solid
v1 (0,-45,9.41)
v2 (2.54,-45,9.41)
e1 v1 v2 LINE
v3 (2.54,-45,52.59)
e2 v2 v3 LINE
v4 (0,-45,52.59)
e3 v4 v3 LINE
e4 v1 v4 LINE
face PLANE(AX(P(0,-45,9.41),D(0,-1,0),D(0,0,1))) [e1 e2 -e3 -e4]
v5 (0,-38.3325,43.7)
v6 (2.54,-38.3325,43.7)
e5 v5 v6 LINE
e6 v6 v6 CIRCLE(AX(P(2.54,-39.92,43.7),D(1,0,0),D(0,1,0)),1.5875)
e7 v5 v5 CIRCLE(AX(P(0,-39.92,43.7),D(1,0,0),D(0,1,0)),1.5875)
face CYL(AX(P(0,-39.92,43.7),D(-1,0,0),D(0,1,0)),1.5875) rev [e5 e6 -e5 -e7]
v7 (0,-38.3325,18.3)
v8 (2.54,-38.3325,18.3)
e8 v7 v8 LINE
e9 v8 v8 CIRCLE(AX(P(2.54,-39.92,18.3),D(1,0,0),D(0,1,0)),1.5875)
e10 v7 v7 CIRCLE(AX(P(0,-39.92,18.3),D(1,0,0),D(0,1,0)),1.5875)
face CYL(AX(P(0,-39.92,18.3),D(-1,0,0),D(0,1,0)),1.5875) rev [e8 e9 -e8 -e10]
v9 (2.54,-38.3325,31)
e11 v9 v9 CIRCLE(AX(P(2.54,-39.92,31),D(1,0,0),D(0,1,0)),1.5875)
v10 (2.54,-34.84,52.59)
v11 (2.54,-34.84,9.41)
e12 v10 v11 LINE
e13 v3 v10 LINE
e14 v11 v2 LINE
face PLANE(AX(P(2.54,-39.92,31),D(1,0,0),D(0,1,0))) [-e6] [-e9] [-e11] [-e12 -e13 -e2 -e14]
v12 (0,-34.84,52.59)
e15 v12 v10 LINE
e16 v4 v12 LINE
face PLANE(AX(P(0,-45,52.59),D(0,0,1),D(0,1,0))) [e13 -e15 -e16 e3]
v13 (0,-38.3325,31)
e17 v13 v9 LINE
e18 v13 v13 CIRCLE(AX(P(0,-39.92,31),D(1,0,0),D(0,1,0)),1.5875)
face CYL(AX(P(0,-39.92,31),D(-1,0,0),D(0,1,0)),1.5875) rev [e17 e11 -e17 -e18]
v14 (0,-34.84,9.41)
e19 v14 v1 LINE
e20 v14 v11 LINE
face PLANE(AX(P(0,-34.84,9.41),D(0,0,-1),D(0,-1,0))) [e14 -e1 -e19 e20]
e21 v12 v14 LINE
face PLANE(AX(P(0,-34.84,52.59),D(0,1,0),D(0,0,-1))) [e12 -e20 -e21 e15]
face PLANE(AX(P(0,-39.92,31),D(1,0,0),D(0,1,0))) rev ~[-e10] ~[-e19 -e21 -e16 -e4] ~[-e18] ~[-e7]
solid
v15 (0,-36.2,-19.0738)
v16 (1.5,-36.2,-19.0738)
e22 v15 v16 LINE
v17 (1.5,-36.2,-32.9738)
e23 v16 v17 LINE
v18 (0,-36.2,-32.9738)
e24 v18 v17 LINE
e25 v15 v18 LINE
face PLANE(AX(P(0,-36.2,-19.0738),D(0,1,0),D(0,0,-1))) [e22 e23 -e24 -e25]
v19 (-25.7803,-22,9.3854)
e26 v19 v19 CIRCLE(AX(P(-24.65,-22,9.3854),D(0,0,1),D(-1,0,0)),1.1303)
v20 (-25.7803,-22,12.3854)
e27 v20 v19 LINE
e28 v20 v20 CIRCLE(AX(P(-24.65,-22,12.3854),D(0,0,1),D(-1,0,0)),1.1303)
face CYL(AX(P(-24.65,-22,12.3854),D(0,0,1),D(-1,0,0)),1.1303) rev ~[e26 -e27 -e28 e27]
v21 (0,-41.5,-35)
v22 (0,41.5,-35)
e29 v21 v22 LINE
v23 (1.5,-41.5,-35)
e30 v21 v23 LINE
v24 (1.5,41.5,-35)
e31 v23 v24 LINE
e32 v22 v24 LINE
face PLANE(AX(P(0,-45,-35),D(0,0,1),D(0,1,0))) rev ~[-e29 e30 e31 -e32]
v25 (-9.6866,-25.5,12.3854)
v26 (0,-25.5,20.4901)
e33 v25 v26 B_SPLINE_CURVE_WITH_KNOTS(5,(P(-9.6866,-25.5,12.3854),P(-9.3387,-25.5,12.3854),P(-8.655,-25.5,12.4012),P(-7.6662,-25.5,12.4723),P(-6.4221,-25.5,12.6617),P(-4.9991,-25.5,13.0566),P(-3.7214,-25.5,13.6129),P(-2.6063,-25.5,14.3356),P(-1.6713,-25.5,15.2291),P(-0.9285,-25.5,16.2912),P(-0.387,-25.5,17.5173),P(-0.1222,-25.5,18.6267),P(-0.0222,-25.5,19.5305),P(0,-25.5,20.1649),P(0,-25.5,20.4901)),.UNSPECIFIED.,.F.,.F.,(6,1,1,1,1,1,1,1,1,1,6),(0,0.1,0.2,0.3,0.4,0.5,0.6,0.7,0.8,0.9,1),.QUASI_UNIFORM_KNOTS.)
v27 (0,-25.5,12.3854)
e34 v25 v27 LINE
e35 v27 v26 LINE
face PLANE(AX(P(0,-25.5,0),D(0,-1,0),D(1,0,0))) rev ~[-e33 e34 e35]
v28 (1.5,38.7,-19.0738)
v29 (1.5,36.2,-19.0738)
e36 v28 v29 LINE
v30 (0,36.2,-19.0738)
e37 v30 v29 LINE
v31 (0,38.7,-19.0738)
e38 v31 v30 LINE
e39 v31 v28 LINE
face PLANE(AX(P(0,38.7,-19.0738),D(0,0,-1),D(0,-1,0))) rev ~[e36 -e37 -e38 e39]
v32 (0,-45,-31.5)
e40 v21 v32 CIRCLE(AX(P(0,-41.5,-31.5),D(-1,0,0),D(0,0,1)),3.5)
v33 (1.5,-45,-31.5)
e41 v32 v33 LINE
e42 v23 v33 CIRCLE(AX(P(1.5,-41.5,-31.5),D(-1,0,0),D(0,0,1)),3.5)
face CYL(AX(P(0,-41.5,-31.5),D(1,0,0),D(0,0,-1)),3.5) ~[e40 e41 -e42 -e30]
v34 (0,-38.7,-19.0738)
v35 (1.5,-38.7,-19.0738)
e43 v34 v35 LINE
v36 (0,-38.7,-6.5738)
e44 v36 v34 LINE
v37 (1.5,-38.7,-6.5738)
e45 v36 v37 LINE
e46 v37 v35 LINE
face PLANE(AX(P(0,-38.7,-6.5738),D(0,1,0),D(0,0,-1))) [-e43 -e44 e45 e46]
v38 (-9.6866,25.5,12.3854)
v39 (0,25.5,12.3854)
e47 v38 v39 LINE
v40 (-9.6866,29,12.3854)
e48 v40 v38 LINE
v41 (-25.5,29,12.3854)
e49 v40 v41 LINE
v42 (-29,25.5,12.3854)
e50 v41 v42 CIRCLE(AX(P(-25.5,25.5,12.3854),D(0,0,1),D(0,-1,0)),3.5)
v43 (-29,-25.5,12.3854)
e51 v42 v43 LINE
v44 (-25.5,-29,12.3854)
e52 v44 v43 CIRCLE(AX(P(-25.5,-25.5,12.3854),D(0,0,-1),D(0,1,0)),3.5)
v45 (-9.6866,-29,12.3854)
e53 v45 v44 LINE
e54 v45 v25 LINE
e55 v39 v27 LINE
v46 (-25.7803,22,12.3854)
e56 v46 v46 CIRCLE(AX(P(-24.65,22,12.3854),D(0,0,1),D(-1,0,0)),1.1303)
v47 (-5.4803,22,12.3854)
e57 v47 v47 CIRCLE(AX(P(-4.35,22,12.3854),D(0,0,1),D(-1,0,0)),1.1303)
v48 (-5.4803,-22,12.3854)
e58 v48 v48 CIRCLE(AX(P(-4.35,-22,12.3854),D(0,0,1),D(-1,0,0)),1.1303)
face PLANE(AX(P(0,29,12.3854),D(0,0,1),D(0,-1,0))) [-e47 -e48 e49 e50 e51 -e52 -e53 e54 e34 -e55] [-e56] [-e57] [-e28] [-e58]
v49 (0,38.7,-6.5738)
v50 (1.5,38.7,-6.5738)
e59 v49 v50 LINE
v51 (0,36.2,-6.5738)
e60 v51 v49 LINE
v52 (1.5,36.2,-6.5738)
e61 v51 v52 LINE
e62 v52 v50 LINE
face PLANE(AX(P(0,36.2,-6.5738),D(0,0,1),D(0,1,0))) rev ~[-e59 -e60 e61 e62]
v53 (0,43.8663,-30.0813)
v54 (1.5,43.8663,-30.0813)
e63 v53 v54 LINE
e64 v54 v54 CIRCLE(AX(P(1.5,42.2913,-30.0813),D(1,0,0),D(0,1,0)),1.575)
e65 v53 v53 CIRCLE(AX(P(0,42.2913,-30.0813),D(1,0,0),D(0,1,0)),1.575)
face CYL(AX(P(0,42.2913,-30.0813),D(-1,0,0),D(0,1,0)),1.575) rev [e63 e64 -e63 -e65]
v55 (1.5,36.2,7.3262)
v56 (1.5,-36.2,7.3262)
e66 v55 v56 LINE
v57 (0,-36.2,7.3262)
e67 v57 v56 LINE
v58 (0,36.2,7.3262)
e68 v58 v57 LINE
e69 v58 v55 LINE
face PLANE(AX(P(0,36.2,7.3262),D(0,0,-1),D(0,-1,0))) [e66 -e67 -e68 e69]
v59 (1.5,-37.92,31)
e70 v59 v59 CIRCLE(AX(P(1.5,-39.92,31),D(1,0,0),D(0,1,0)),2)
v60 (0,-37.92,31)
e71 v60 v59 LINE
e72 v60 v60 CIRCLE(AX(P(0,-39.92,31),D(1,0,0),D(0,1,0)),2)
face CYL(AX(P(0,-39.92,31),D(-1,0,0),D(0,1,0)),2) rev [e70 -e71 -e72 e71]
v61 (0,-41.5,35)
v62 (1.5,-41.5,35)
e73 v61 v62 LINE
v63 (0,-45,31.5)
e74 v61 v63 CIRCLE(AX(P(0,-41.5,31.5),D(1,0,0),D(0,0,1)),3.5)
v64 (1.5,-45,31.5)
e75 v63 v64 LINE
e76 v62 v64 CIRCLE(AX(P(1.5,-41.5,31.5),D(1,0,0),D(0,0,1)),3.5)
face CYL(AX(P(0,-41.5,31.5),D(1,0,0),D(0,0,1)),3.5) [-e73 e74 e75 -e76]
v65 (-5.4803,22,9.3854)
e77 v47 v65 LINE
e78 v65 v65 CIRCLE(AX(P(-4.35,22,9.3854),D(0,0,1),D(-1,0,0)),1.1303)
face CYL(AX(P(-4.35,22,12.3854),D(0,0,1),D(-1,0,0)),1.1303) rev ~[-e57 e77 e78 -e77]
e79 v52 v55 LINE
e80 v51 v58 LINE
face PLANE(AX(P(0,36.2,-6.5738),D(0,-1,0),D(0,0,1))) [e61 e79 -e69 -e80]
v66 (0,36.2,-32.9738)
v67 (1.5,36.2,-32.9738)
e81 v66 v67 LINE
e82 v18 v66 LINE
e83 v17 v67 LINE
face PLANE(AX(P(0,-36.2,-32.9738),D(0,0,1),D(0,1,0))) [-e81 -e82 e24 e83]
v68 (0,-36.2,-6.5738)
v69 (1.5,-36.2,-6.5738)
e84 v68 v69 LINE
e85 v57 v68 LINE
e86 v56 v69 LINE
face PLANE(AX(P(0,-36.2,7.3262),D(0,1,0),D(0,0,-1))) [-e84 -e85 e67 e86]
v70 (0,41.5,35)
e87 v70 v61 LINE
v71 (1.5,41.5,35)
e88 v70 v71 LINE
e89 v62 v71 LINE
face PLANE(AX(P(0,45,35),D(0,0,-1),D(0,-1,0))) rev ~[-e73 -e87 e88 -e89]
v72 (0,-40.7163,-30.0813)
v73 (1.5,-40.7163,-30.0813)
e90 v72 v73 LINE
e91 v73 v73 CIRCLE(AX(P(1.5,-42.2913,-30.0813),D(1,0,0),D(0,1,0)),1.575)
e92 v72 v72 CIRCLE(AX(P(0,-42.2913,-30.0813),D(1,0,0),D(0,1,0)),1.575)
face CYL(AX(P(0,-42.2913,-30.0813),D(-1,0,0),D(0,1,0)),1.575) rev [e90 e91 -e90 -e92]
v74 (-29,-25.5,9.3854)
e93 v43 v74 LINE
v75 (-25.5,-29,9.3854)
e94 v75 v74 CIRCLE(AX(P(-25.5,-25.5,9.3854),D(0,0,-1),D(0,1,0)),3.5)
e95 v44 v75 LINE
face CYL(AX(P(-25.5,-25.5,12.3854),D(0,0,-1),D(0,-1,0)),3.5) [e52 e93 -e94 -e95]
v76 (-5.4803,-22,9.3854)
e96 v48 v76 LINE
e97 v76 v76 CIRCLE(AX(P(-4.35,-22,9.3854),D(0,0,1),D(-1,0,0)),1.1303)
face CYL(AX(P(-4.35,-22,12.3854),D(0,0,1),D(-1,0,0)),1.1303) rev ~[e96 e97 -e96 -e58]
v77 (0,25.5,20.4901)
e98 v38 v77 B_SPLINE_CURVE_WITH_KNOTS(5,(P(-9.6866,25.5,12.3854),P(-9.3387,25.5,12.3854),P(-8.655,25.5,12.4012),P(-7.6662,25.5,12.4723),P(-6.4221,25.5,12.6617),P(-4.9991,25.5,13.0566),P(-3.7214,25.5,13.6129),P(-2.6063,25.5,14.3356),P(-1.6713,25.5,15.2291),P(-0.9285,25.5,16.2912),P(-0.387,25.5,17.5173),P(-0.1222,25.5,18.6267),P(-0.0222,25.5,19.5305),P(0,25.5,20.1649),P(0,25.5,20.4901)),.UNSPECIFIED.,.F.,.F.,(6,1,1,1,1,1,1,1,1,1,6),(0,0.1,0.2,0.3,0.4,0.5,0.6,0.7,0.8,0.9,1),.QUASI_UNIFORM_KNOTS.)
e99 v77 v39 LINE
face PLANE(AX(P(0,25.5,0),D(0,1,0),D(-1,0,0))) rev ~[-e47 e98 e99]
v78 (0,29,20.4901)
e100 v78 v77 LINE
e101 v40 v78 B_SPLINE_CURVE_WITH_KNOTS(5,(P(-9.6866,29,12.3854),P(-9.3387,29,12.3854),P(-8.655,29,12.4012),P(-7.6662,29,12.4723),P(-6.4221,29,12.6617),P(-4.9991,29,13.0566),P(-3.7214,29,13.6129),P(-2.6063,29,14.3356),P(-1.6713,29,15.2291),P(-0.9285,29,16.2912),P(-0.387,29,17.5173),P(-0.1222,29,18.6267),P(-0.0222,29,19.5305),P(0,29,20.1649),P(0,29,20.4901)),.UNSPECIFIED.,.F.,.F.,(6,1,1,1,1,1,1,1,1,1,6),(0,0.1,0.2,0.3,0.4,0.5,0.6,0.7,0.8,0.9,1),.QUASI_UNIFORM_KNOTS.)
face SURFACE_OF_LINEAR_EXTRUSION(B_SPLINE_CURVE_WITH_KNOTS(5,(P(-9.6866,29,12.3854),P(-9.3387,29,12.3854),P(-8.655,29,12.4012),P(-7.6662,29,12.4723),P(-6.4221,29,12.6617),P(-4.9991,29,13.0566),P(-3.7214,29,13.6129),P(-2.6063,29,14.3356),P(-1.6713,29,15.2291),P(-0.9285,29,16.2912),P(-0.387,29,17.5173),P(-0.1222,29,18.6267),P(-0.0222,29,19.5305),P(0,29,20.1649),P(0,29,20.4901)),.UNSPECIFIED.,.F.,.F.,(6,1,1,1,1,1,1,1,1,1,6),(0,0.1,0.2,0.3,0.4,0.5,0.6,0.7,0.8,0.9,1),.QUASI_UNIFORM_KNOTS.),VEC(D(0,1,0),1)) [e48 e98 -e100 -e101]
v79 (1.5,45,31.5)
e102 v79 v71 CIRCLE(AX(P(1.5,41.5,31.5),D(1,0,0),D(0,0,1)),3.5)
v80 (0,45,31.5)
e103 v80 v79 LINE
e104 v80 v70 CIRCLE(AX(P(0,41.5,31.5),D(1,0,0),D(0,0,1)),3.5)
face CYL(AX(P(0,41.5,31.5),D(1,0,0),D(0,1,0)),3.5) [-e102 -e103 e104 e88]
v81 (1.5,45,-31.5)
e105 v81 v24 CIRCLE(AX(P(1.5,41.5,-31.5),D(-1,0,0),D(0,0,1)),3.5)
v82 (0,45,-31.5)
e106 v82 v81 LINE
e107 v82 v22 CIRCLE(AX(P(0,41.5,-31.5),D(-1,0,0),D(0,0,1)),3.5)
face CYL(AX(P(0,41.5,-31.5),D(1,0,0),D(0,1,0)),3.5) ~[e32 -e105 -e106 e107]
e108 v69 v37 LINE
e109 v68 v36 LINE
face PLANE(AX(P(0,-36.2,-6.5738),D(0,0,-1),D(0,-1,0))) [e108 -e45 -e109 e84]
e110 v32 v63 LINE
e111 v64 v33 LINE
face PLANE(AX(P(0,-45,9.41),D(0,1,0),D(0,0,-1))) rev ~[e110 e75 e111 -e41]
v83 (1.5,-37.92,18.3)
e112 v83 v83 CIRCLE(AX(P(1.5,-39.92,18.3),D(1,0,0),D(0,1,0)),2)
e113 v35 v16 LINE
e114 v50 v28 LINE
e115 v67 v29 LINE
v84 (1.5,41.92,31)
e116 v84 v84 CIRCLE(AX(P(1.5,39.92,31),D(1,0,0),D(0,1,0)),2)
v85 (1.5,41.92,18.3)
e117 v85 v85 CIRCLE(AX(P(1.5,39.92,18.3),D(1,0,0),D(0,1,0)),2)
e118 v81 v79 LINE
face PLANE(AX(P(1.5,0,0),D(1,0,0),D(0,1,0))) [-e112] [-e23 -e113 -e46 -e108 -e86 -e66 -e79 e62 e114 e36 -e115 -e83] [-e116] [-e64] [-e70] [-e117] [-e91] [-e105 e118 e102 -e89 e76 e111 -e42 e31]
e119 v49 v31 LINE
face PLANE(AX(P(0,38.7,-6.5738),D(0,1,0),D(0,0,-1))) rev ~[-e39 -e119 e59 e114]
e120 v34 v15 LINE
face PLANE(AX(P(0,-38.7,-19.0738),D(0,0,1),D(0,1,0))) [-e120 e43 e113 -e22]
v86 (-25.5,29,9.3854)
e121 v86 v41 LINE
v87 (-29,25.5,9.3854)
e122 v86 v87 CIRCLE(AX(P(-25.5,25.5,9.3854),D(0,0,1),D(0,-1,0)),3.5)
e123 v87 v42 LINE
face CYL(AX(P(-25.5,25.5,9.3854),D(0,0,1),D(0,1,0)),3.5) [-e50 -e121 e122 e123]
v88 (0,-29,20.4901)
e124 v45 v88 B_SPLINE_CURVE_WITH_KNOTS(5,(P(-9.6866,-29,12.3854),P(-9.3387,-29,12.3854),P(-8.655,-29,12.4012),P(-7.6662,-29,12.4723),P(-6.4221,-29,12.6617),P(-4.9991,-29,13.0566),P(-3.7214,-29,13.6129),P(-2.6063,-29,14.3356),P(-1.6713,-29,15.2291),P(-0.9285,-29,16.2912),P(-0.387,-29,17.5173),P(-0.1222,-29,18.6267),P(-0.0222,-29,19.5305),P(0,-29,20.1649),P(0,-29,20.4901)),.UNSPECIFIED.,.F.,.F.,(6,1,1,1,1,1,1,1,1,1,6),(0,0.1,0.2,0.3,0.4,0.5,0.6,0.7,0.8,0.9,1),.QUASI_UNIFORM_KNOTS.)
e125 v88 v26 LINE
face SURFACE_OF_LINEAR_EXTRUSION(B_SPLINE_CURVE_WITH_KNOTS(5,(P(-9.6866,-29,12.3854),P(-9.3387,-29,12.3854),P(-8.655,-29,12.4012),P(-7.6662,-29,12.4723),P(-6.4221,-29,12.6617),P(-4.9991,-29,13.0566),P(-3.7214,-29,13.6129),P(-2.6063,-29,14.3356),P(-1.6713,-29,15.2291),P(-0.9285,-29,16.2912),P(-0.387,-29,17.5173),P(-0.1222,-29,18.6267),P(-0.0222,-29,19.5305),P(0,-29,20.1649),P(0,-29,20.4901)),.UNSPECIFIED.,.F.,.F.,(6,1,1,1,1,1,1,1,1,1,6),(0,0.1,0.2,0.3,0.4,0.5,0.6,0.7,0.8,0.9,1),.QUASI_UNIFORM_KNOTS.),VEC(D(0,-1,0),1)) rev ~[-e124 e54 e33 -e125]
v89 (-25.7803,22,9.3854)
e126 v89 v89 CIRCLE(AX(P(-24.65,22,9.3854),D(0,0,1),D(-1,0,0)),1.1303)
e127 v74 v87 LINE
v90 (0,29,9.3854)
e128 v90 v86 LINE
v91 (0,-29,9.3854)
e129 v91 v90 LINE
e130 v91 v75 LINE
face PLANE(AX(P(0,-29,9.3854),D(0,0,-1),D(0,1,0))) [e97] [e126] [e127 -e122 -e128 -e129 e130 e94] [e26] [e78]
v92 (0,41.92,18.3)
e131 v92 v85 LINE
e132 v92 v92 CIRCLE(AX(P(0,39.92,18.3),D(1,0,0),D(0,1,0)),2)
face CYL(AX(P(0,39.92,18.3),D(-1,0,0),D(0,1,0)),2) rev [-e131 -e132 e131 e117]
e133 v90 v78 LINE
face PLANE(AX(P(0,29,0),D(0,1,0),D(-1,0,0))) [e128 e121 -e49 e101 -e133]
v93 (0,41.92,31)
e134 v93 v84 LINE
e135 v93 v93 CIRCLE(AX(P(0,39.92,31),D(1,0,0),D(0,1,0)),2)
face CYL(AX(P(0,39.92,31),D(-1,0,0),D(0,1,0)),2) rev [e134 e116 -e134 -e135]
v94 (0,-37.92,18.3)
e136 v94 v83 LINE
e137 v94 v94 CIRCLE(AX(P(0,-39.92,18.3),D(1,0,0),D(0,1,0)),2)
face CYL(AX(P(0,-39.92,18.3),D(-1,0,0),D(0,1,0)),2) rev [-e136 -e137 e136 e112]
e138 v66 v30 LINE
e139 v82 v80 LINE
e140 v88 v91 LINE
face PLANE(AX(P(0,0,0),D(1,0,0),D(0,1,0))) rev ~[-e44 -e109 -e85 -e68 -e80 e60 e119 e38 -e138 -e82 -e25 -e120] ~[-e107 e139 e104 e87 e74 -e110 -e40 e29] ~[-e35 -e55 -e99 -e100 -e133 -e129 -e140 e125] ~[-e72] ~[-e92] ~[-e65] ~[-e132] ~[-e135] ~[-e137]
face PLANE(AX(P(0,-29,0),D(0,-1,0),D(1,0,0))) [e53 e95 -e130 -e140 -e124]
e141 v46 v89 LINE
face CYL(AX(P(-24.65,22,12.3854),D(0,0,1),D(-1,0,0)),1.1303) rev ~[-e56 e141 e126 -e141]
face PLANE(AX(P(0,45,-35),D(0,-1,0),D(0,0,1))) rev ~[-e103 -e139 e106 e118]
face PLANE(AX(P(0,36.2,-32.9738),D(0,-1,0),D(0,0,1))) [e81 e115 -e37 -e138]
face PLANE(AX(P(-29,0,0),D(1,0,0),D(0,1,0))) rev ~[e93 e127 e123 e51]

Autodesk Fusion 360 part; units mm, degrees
sketch "Sketch1" plane through (0, 0, 0) normal (1, 0, 0) x (0, 1, 0) in component "DIN_rain_mount1 v3"
  line L0 (-5.08, 21.59) -> (5.08, 21.59)
  line L1 (5.08, 21.59) -> (5.08, -21.59)
  line L2 (5.08, -21.59) -> (-5.08, -21.59)
  line L3 (-5.08, -21.59) -> (-5.08, 21.59)
  line L4 (-5.08, 21.59) -> (5.08, -21.59) construction
  line L5 (5.08, 21.59) -> (-5.08, -21.59) construction
  circle A0 centre (0, -12.7) radius 1.5875
  circle A1 centre (0, 0) radius 1.5875
  circle A2 centre (0, 12.7) radius 1.5875
  dimension "d5" = 10.16
  dimension "d6" = 43.18
  dimension "d7" = 3.175
  dimension "d10" = 6.35
  dimension "d11" = 12.7
extrude "Extrude1" add sketch "Sketch1" along normal blind 2.54 makes body 1 in component "DIN_rain_mount1 v3"
sketch "Sketch1 (2)" plane through (0, 0, 0) normal (1, 0, 0) x (0, 1, 0)
  line L0 (45, 35) -> (-45, 35)
  line L1 (-45, 35) -> (-45, -35)
  line L2 (-45, -35) -> (45, -35)
  line L3 (45, -35) -> (45, 35)
  line L4 (45, 35) -> (-45, -35) construction
  line L5 (-45, 35) -> (45, -35) construction
  line L6 (0, 0) -> (0, -35) construction
  line L7 (39.5, 8.6762) -> (-39.5, 8.6762) construction
  line L8 (-39.5, 8.6762) -> (-39.5, -34.3238) construction
  line L9 (-39.5, -34.3238) -> (39.5, -34.3238) construction
  line L10 (39.5, -34.3238) -> (39.5, 8.6762) construction
  line L11 (39.5, 8.6762) -> (-39.5, -34.3238) construction
  line L12 (-39.5, 8.6762) -> (39.5, -34.3238) construction
  line L13 (36.2, 7.3262) -> (-36.2, 7.3262)
  line L14 (-36.2, 7.3262) -> (-36.2, -32.9738)
  line L15 (-36.2, -32.9738) -> (36.2, -32.9738)
  line L16 (36.2, -32.9738) -> (36.2, 7.3262)
  line L17 (36.2, 7.3262) -> (-36.2, -32.9738) construction
  line L18 (-36.2, 7.3262) -> (36.2, -32.9738) construction
  circle A0 centre (42.2913, -30.0813) radius 1.575
  line L19 (0, 0) -> (10.5805, 0) construction
  circle A1 centre (-42.2913, -30.0813) radius 1.575
  circle A2 centre (42.2913, 30.0813) radius 1.575 construction
  circle A3 centre (-42.2913, 30.0813) radius 1.575 construction
  line L20 (0, 0) -> (0, 0.8708) construction
  line L21 (0, 0.8708) -> (0, 35) construction
  line L22 (25, 32.3854) -> (-25, 32.3854) construction
  line L23 (-25, 32.3854) -> (-25, 12.3854) construction
  line L24 (-25, 12.3854) -> (25, 12.3854) construction
  line L25 (25, 12.3854) -> (25, 32.3854) construction
  line L26 (25, 32.3854) -> (-25, 12.3854) construction
  line L27 (-25, 32.3854) -> (25, 12.3854) construction
  line L28 (29, 12.3854) -> (-29, 12.3854)
  line L29 (-29, 12.3854) -> (-29, 9.3854)
  line L30 (-29, 9.3854) -> (29, 9.3854)
  line L31 (29, 9.3854) -> (29, 12.3854)
  line L32 (29, 12.3854) -> (-29, 9.3854) construction
  line L33 (-29, 12.3854) -> (29, 9.3854) construction
  line L34 (0, -12.8238) -> (39.5, -12.8238) construction
  line L35 (36.2, -6.5738) -> (38.7, -6.5738)
  line L36 (38.7, -6.5738) -> (38.7, -19.0738)
  line L37 (38.7, -19.0738) -> (36.2, -19.0738)
  line L38 (36.2, -19.0738) -> (36.2, -6.5738)
  line L39 (-38.7, -19.0738) -> (-36.2, -19.0738)
  line L40 (-38.7, -6.5738) -> (-38.7, -19.0738)
  line L41 (-36.2, -6.5738) -> (-38.7, -6.5738)
  circle A4 centre (-39.92, 31) radius 2
  circle A5 centre (-39.92, 18.3) radius 2
  circle A6 centre (39.92, 31) radius 2
  circle A7 centre (39.92, 18.3) radius 2
  circle A8 centre (-39.92, 31) radius 1.5875
  circle A9 centre (-39.92, 18.3) radius 1.5875
  circle A10 centre (-39.92, 43.7) radius 1.5875
  line L42 (-45, 9.41) -> (-34.84, 9.41)
  line L43 (-34.84, 9.41) -> (-34.84, 52.59)
  line L44 (-34.84, 52.59) -> (-45, 52.59)
  line L45 (-45, 52.59) -> (-45, 9.41)
  point P0 (0, -12.8238)
  point P1 (0, -12.8238)
  point P2 (0, 22.3854)
  point P3 (0, 10.8854)
  point P4 (38.7, -12.8238)
  dimension "d8" = 90
  dimension "d9" = 70
  dimension "d12" = 79
  dimension "d13" = 43
  dimension "d14" = 72.4
  dimension "d15" = 40.3
  dimension "d17" = 3.15
  dimension "d21" = 50
  dimension "d22" = 20
  dimension "d25" = 58
  dimension "d26" = 3
  dimension "d58" = 2.5
  dimension "d59" = 12.5
  dimension "d62" = 4
  dimension "d63" = 4
extrude "Extrude1'" add sketch "Sketch1 (2)" along normal blind 1.5 separate body contours L0 L1 L2 L3 L42 L43 | L0 L1 L42 L43 L45 | L28 L29 L30 L31 makes body 2
extrude "Extrude2" add sketch "Sketch1 (2)" against normal blind 29 contours L28 L29 L30 L31 bodies 2
sketch "Sketch2" plane through (0, 0, 12.3854) normal (0, 0, 1) x (-1, 0, 0)
  line L0 (0, 29) -> (0, -29)
  line L1 (0, -29) -> (29, -29)
  line L2 (29, -29) -> (29, 29)
  line L3 (29, 29) -> (0, 29)
  line L4 (0, 29) -> (29, -29) construction
  line L5 (27.5, 25) -> (1.5, 25) construction
  line L6 (1.5, 25) -> (1.5, -25) construction
  line L7 (1.5, -25) -> (27.5, -25) construction
  line L8 (27.5, -25) -> (27.5, 25) construction
  line L9 (27.5, 25) -> (1.5, -25) construction
  line L10 (1.5, 25) -> (27.5, -25) construction
  circle A0 centre (4.35, -22) radius 1.575 construction
  circle A1 centre (24.65, -22) radius 1.575 construction
  circle A2 centre (4.35, 22) radius 1.575 construction
  circle A3 centre (24.65, 22) radius 1.575 construction
  line L11 (4.35, -22) -> (24.65, 22) construction
  circle A4 centre (4.35, -22) radius 1.1303
  circle A5 centre (24.65, -22) radius 1.1303
  circle A6 centre (4.35, 22) radius 1.1303
  circle A7 centre (24.65, 22) radius 1.1303
  point P0 (14.5, 0)
  point P1 (14.5, 0)
  point P2 (14.5, 0)
  dimension "d32" = 26
  dimension "d33" = 50
  dimension "d37" = 3.15
  dimension "d40" = 20.3
  dimension "d41" = 44
  dimension "d51" = 2.2606
  dimension "d54" = 20.3
  dimension "d55" = 44
fillet "Fillet1" radius 3.5 2 edges at (-29, 29, 10.8854) (-29, -29, 10.8854) on bodies 2
fillet "Fillet2" radius 3.5 4 edges at (0.75, 45, 35) (0.75, 45, -35) (0.75, -45, 35) (0.75, -45, -35) on bodies 2
sketch "Sketch3" plane through (0, -29, 0) normal (0, -1, 0) x (1, 0, 0)
  line L0 (-25.5, 12.3854) -> (-25.5, 9.3854)
  line L1 (-25.5, 9.3854) -> (0, 9.3854)
  line L2 (0, 9.3854) -> (0, 12.3854)
  line L3 (0, 12.3854) -> (-25.5, 12.3854)
  line L4 (0, 35) -> (0, -35) construction
  line L5 (-27.5, 12.3854) -> (-1.5, 12.3854) construction
  spline S0 degree 5 poles (-9.6866, 12.3854) (-9.3387, 12.3854) (-8.655, 12.4012) (-7.6662, 12.4723) (-6.4221, 12.6617) (-4.9991, 13.0566) (-3.7214, 13.6129) (-2.6063, 14.3356) (-1.6713, 15.2291) (-0.9285, 16.2912) (-0.387, 17.5173) (-0.1222, 18.6267) (-0.0222, 19.5305) (0, 20.1649) (0, 20.4901) knots 0 0 0 0 0 0 0.1 0.2 0.3 0.4 0.5 0.6 0.7 0.8 0.9 1 1 1 1 1 1
  line L6 (0, 18.6225) -> (0, 22.3578)
  line L7 (-11.558, 12.3854) -> (-7.8153, 12.3854)
  line L8 (-9.6866, 12.3854) -> (0, 12.3854)
  line L9 (0, 20.4901) -> (0, 12.3854)
  point P0 (-2.4919, 14.508)
extrude "Extrude3" add sketch "Sketch3" against normal blind 3.5 contours L3 S0 L6 L7 L8 L9 bodies 2
sketch "Sketch4" plane through (0, 29, 0) normal (0, 1, 0) x (-1, 0, 0)
  line L0 (25.5, 9.3854) -> (25.5, 12.3854)
  line L1 (25.5, 12.3854) -> (0, 12.3854)
  line L2 (0, 12.3854) -> (0, 9.3854)
  line L3 (0, 9.3854) -> (25.5, 9.3854)
  line L4 (0, 12.3854) -> (9.6866, 12.3854)
  spline S0 degree 5 poles (9.6866, 12.3854) (9.3387, 12.3854) (8.655, 12.4012) (7.6662, 12.4723) (6.4221, 12.6617) (4.9991, 13.0566) (3.7214, 13.6129) (2.6063, 14.3356) (1.6713, 15.2291) (0.9285, 16.2912) (0.387, 17.5173) (0.1222, 18.6267) (0.0222, 19.5305) (0, 20.1649) (0, 20.4901) knots 0 0 0 0 0 0 0.1 0.2 0.3 0.4 0.5 0.6 0.7 0.8 0.9 1 1 1 1 1 1
  line L5 (0, 20.4901) -> (0, 12.3854)
extrude "Extrude4" add sketch "Sketch4" against normal blind 3.5 contours L1 L4 S0 L5 bodies 2
extrude "Extrude5" cut sketch "Sketch2" against normal blind 3 contours A4 | A5 | A6 | A7 bodies 2
component "DIN_rain_mount1 v3" placed x (1, 0, 0) y (0, 1, 0) z (0, 0, 1) at (0, -39.92, 31)
equation "cutout_length = 71.4 mm" comment "71 mm from the manual"
equation "cutout_height = 39.3 mm" comment "39mm from the manual"
equation "plastic_thick = 1.5 mm"
equation "tab_width = 12 mm"
equation "tab_thick = 2.5 mm"
equation "panel_width = 90 mm"
equation "panel_height = 70 mm"
equation "d8 = panel_width"
equation "d9 = panel_height"
equation "power_supply_width = 79 mm"
equation "power_supply_height = 43 mm"
equation "d12 = power_supply_width"
equation "d13 = power_supply_height"
equation "d14 = cutout_length + clearance * 2"
equation "d15 = cutout_height + clearance * 2"
equation "mount_through_hole_diam = 3.15 mm"
equation "d17 = mount_through_hole_diam"
equation "relay_height = 20 mm"
equation "relay_length = 50 mm"
equation "relay_width = 26 mm"
equation "d21 = relay_length"
equation "d22 = relay_height"
equation "relay_ledge_thick = 3 mm"
equation "relay_ledge_length = relay_length + 8 mm"
equation "d25 = relay_ledge_length"
equation "d26 = relay_ledge_thick"
equation "relay_ledge_width = relay_width + 3 mm"
equation "d28 = plastic_thick"
equation "d30 = -relay_ledge_width"
equation "d32 = relay_width"
equation "d33 = relay_length"
equation "relay_dist_bw_holes_length = 44 mm"
equation "relay_dist_bw_holes_width = 20.3 mm"
equation "relay_hole_diam = 3.15 mm"
equation "d37 = relay_hole_diam"
equation "d40 = relay_dist_bw_holes_width"
equation "d41 = relay_dist_bw_holes_length"
equation "relay_mount_tap_diam = 0.089 in"
equation "d51 = relay_mount_tap_diam"
equation "d54 = relay_dist_bw_holes_width"
equation "d55 = relay_dist_bw_holes_length"
equation "d58 = tab_thick"
equation "d59 = tab_width + clearance"
equation "clearance = 0.5 mm"
equation "DIN_rail_mount_hole_diam = 4 mm"
equation "d62 = DIN_rail_mount_hole_diam"
equation "d63 = DIN_rail_mount_hole_diam"
equation "dist_bw_holes = 0.5 in"
equation "holes_diam = 0.125 in"
equation "DIN_rail_width = 0.4 in"
equation "DIN_rail_len = 1.7 in"
equation "d5 = DIN_rail_width"
equation "d6 = DIN_rail_len"
equation "d7 = holes_diam"
equation "d11 = dist_bw_holes"
